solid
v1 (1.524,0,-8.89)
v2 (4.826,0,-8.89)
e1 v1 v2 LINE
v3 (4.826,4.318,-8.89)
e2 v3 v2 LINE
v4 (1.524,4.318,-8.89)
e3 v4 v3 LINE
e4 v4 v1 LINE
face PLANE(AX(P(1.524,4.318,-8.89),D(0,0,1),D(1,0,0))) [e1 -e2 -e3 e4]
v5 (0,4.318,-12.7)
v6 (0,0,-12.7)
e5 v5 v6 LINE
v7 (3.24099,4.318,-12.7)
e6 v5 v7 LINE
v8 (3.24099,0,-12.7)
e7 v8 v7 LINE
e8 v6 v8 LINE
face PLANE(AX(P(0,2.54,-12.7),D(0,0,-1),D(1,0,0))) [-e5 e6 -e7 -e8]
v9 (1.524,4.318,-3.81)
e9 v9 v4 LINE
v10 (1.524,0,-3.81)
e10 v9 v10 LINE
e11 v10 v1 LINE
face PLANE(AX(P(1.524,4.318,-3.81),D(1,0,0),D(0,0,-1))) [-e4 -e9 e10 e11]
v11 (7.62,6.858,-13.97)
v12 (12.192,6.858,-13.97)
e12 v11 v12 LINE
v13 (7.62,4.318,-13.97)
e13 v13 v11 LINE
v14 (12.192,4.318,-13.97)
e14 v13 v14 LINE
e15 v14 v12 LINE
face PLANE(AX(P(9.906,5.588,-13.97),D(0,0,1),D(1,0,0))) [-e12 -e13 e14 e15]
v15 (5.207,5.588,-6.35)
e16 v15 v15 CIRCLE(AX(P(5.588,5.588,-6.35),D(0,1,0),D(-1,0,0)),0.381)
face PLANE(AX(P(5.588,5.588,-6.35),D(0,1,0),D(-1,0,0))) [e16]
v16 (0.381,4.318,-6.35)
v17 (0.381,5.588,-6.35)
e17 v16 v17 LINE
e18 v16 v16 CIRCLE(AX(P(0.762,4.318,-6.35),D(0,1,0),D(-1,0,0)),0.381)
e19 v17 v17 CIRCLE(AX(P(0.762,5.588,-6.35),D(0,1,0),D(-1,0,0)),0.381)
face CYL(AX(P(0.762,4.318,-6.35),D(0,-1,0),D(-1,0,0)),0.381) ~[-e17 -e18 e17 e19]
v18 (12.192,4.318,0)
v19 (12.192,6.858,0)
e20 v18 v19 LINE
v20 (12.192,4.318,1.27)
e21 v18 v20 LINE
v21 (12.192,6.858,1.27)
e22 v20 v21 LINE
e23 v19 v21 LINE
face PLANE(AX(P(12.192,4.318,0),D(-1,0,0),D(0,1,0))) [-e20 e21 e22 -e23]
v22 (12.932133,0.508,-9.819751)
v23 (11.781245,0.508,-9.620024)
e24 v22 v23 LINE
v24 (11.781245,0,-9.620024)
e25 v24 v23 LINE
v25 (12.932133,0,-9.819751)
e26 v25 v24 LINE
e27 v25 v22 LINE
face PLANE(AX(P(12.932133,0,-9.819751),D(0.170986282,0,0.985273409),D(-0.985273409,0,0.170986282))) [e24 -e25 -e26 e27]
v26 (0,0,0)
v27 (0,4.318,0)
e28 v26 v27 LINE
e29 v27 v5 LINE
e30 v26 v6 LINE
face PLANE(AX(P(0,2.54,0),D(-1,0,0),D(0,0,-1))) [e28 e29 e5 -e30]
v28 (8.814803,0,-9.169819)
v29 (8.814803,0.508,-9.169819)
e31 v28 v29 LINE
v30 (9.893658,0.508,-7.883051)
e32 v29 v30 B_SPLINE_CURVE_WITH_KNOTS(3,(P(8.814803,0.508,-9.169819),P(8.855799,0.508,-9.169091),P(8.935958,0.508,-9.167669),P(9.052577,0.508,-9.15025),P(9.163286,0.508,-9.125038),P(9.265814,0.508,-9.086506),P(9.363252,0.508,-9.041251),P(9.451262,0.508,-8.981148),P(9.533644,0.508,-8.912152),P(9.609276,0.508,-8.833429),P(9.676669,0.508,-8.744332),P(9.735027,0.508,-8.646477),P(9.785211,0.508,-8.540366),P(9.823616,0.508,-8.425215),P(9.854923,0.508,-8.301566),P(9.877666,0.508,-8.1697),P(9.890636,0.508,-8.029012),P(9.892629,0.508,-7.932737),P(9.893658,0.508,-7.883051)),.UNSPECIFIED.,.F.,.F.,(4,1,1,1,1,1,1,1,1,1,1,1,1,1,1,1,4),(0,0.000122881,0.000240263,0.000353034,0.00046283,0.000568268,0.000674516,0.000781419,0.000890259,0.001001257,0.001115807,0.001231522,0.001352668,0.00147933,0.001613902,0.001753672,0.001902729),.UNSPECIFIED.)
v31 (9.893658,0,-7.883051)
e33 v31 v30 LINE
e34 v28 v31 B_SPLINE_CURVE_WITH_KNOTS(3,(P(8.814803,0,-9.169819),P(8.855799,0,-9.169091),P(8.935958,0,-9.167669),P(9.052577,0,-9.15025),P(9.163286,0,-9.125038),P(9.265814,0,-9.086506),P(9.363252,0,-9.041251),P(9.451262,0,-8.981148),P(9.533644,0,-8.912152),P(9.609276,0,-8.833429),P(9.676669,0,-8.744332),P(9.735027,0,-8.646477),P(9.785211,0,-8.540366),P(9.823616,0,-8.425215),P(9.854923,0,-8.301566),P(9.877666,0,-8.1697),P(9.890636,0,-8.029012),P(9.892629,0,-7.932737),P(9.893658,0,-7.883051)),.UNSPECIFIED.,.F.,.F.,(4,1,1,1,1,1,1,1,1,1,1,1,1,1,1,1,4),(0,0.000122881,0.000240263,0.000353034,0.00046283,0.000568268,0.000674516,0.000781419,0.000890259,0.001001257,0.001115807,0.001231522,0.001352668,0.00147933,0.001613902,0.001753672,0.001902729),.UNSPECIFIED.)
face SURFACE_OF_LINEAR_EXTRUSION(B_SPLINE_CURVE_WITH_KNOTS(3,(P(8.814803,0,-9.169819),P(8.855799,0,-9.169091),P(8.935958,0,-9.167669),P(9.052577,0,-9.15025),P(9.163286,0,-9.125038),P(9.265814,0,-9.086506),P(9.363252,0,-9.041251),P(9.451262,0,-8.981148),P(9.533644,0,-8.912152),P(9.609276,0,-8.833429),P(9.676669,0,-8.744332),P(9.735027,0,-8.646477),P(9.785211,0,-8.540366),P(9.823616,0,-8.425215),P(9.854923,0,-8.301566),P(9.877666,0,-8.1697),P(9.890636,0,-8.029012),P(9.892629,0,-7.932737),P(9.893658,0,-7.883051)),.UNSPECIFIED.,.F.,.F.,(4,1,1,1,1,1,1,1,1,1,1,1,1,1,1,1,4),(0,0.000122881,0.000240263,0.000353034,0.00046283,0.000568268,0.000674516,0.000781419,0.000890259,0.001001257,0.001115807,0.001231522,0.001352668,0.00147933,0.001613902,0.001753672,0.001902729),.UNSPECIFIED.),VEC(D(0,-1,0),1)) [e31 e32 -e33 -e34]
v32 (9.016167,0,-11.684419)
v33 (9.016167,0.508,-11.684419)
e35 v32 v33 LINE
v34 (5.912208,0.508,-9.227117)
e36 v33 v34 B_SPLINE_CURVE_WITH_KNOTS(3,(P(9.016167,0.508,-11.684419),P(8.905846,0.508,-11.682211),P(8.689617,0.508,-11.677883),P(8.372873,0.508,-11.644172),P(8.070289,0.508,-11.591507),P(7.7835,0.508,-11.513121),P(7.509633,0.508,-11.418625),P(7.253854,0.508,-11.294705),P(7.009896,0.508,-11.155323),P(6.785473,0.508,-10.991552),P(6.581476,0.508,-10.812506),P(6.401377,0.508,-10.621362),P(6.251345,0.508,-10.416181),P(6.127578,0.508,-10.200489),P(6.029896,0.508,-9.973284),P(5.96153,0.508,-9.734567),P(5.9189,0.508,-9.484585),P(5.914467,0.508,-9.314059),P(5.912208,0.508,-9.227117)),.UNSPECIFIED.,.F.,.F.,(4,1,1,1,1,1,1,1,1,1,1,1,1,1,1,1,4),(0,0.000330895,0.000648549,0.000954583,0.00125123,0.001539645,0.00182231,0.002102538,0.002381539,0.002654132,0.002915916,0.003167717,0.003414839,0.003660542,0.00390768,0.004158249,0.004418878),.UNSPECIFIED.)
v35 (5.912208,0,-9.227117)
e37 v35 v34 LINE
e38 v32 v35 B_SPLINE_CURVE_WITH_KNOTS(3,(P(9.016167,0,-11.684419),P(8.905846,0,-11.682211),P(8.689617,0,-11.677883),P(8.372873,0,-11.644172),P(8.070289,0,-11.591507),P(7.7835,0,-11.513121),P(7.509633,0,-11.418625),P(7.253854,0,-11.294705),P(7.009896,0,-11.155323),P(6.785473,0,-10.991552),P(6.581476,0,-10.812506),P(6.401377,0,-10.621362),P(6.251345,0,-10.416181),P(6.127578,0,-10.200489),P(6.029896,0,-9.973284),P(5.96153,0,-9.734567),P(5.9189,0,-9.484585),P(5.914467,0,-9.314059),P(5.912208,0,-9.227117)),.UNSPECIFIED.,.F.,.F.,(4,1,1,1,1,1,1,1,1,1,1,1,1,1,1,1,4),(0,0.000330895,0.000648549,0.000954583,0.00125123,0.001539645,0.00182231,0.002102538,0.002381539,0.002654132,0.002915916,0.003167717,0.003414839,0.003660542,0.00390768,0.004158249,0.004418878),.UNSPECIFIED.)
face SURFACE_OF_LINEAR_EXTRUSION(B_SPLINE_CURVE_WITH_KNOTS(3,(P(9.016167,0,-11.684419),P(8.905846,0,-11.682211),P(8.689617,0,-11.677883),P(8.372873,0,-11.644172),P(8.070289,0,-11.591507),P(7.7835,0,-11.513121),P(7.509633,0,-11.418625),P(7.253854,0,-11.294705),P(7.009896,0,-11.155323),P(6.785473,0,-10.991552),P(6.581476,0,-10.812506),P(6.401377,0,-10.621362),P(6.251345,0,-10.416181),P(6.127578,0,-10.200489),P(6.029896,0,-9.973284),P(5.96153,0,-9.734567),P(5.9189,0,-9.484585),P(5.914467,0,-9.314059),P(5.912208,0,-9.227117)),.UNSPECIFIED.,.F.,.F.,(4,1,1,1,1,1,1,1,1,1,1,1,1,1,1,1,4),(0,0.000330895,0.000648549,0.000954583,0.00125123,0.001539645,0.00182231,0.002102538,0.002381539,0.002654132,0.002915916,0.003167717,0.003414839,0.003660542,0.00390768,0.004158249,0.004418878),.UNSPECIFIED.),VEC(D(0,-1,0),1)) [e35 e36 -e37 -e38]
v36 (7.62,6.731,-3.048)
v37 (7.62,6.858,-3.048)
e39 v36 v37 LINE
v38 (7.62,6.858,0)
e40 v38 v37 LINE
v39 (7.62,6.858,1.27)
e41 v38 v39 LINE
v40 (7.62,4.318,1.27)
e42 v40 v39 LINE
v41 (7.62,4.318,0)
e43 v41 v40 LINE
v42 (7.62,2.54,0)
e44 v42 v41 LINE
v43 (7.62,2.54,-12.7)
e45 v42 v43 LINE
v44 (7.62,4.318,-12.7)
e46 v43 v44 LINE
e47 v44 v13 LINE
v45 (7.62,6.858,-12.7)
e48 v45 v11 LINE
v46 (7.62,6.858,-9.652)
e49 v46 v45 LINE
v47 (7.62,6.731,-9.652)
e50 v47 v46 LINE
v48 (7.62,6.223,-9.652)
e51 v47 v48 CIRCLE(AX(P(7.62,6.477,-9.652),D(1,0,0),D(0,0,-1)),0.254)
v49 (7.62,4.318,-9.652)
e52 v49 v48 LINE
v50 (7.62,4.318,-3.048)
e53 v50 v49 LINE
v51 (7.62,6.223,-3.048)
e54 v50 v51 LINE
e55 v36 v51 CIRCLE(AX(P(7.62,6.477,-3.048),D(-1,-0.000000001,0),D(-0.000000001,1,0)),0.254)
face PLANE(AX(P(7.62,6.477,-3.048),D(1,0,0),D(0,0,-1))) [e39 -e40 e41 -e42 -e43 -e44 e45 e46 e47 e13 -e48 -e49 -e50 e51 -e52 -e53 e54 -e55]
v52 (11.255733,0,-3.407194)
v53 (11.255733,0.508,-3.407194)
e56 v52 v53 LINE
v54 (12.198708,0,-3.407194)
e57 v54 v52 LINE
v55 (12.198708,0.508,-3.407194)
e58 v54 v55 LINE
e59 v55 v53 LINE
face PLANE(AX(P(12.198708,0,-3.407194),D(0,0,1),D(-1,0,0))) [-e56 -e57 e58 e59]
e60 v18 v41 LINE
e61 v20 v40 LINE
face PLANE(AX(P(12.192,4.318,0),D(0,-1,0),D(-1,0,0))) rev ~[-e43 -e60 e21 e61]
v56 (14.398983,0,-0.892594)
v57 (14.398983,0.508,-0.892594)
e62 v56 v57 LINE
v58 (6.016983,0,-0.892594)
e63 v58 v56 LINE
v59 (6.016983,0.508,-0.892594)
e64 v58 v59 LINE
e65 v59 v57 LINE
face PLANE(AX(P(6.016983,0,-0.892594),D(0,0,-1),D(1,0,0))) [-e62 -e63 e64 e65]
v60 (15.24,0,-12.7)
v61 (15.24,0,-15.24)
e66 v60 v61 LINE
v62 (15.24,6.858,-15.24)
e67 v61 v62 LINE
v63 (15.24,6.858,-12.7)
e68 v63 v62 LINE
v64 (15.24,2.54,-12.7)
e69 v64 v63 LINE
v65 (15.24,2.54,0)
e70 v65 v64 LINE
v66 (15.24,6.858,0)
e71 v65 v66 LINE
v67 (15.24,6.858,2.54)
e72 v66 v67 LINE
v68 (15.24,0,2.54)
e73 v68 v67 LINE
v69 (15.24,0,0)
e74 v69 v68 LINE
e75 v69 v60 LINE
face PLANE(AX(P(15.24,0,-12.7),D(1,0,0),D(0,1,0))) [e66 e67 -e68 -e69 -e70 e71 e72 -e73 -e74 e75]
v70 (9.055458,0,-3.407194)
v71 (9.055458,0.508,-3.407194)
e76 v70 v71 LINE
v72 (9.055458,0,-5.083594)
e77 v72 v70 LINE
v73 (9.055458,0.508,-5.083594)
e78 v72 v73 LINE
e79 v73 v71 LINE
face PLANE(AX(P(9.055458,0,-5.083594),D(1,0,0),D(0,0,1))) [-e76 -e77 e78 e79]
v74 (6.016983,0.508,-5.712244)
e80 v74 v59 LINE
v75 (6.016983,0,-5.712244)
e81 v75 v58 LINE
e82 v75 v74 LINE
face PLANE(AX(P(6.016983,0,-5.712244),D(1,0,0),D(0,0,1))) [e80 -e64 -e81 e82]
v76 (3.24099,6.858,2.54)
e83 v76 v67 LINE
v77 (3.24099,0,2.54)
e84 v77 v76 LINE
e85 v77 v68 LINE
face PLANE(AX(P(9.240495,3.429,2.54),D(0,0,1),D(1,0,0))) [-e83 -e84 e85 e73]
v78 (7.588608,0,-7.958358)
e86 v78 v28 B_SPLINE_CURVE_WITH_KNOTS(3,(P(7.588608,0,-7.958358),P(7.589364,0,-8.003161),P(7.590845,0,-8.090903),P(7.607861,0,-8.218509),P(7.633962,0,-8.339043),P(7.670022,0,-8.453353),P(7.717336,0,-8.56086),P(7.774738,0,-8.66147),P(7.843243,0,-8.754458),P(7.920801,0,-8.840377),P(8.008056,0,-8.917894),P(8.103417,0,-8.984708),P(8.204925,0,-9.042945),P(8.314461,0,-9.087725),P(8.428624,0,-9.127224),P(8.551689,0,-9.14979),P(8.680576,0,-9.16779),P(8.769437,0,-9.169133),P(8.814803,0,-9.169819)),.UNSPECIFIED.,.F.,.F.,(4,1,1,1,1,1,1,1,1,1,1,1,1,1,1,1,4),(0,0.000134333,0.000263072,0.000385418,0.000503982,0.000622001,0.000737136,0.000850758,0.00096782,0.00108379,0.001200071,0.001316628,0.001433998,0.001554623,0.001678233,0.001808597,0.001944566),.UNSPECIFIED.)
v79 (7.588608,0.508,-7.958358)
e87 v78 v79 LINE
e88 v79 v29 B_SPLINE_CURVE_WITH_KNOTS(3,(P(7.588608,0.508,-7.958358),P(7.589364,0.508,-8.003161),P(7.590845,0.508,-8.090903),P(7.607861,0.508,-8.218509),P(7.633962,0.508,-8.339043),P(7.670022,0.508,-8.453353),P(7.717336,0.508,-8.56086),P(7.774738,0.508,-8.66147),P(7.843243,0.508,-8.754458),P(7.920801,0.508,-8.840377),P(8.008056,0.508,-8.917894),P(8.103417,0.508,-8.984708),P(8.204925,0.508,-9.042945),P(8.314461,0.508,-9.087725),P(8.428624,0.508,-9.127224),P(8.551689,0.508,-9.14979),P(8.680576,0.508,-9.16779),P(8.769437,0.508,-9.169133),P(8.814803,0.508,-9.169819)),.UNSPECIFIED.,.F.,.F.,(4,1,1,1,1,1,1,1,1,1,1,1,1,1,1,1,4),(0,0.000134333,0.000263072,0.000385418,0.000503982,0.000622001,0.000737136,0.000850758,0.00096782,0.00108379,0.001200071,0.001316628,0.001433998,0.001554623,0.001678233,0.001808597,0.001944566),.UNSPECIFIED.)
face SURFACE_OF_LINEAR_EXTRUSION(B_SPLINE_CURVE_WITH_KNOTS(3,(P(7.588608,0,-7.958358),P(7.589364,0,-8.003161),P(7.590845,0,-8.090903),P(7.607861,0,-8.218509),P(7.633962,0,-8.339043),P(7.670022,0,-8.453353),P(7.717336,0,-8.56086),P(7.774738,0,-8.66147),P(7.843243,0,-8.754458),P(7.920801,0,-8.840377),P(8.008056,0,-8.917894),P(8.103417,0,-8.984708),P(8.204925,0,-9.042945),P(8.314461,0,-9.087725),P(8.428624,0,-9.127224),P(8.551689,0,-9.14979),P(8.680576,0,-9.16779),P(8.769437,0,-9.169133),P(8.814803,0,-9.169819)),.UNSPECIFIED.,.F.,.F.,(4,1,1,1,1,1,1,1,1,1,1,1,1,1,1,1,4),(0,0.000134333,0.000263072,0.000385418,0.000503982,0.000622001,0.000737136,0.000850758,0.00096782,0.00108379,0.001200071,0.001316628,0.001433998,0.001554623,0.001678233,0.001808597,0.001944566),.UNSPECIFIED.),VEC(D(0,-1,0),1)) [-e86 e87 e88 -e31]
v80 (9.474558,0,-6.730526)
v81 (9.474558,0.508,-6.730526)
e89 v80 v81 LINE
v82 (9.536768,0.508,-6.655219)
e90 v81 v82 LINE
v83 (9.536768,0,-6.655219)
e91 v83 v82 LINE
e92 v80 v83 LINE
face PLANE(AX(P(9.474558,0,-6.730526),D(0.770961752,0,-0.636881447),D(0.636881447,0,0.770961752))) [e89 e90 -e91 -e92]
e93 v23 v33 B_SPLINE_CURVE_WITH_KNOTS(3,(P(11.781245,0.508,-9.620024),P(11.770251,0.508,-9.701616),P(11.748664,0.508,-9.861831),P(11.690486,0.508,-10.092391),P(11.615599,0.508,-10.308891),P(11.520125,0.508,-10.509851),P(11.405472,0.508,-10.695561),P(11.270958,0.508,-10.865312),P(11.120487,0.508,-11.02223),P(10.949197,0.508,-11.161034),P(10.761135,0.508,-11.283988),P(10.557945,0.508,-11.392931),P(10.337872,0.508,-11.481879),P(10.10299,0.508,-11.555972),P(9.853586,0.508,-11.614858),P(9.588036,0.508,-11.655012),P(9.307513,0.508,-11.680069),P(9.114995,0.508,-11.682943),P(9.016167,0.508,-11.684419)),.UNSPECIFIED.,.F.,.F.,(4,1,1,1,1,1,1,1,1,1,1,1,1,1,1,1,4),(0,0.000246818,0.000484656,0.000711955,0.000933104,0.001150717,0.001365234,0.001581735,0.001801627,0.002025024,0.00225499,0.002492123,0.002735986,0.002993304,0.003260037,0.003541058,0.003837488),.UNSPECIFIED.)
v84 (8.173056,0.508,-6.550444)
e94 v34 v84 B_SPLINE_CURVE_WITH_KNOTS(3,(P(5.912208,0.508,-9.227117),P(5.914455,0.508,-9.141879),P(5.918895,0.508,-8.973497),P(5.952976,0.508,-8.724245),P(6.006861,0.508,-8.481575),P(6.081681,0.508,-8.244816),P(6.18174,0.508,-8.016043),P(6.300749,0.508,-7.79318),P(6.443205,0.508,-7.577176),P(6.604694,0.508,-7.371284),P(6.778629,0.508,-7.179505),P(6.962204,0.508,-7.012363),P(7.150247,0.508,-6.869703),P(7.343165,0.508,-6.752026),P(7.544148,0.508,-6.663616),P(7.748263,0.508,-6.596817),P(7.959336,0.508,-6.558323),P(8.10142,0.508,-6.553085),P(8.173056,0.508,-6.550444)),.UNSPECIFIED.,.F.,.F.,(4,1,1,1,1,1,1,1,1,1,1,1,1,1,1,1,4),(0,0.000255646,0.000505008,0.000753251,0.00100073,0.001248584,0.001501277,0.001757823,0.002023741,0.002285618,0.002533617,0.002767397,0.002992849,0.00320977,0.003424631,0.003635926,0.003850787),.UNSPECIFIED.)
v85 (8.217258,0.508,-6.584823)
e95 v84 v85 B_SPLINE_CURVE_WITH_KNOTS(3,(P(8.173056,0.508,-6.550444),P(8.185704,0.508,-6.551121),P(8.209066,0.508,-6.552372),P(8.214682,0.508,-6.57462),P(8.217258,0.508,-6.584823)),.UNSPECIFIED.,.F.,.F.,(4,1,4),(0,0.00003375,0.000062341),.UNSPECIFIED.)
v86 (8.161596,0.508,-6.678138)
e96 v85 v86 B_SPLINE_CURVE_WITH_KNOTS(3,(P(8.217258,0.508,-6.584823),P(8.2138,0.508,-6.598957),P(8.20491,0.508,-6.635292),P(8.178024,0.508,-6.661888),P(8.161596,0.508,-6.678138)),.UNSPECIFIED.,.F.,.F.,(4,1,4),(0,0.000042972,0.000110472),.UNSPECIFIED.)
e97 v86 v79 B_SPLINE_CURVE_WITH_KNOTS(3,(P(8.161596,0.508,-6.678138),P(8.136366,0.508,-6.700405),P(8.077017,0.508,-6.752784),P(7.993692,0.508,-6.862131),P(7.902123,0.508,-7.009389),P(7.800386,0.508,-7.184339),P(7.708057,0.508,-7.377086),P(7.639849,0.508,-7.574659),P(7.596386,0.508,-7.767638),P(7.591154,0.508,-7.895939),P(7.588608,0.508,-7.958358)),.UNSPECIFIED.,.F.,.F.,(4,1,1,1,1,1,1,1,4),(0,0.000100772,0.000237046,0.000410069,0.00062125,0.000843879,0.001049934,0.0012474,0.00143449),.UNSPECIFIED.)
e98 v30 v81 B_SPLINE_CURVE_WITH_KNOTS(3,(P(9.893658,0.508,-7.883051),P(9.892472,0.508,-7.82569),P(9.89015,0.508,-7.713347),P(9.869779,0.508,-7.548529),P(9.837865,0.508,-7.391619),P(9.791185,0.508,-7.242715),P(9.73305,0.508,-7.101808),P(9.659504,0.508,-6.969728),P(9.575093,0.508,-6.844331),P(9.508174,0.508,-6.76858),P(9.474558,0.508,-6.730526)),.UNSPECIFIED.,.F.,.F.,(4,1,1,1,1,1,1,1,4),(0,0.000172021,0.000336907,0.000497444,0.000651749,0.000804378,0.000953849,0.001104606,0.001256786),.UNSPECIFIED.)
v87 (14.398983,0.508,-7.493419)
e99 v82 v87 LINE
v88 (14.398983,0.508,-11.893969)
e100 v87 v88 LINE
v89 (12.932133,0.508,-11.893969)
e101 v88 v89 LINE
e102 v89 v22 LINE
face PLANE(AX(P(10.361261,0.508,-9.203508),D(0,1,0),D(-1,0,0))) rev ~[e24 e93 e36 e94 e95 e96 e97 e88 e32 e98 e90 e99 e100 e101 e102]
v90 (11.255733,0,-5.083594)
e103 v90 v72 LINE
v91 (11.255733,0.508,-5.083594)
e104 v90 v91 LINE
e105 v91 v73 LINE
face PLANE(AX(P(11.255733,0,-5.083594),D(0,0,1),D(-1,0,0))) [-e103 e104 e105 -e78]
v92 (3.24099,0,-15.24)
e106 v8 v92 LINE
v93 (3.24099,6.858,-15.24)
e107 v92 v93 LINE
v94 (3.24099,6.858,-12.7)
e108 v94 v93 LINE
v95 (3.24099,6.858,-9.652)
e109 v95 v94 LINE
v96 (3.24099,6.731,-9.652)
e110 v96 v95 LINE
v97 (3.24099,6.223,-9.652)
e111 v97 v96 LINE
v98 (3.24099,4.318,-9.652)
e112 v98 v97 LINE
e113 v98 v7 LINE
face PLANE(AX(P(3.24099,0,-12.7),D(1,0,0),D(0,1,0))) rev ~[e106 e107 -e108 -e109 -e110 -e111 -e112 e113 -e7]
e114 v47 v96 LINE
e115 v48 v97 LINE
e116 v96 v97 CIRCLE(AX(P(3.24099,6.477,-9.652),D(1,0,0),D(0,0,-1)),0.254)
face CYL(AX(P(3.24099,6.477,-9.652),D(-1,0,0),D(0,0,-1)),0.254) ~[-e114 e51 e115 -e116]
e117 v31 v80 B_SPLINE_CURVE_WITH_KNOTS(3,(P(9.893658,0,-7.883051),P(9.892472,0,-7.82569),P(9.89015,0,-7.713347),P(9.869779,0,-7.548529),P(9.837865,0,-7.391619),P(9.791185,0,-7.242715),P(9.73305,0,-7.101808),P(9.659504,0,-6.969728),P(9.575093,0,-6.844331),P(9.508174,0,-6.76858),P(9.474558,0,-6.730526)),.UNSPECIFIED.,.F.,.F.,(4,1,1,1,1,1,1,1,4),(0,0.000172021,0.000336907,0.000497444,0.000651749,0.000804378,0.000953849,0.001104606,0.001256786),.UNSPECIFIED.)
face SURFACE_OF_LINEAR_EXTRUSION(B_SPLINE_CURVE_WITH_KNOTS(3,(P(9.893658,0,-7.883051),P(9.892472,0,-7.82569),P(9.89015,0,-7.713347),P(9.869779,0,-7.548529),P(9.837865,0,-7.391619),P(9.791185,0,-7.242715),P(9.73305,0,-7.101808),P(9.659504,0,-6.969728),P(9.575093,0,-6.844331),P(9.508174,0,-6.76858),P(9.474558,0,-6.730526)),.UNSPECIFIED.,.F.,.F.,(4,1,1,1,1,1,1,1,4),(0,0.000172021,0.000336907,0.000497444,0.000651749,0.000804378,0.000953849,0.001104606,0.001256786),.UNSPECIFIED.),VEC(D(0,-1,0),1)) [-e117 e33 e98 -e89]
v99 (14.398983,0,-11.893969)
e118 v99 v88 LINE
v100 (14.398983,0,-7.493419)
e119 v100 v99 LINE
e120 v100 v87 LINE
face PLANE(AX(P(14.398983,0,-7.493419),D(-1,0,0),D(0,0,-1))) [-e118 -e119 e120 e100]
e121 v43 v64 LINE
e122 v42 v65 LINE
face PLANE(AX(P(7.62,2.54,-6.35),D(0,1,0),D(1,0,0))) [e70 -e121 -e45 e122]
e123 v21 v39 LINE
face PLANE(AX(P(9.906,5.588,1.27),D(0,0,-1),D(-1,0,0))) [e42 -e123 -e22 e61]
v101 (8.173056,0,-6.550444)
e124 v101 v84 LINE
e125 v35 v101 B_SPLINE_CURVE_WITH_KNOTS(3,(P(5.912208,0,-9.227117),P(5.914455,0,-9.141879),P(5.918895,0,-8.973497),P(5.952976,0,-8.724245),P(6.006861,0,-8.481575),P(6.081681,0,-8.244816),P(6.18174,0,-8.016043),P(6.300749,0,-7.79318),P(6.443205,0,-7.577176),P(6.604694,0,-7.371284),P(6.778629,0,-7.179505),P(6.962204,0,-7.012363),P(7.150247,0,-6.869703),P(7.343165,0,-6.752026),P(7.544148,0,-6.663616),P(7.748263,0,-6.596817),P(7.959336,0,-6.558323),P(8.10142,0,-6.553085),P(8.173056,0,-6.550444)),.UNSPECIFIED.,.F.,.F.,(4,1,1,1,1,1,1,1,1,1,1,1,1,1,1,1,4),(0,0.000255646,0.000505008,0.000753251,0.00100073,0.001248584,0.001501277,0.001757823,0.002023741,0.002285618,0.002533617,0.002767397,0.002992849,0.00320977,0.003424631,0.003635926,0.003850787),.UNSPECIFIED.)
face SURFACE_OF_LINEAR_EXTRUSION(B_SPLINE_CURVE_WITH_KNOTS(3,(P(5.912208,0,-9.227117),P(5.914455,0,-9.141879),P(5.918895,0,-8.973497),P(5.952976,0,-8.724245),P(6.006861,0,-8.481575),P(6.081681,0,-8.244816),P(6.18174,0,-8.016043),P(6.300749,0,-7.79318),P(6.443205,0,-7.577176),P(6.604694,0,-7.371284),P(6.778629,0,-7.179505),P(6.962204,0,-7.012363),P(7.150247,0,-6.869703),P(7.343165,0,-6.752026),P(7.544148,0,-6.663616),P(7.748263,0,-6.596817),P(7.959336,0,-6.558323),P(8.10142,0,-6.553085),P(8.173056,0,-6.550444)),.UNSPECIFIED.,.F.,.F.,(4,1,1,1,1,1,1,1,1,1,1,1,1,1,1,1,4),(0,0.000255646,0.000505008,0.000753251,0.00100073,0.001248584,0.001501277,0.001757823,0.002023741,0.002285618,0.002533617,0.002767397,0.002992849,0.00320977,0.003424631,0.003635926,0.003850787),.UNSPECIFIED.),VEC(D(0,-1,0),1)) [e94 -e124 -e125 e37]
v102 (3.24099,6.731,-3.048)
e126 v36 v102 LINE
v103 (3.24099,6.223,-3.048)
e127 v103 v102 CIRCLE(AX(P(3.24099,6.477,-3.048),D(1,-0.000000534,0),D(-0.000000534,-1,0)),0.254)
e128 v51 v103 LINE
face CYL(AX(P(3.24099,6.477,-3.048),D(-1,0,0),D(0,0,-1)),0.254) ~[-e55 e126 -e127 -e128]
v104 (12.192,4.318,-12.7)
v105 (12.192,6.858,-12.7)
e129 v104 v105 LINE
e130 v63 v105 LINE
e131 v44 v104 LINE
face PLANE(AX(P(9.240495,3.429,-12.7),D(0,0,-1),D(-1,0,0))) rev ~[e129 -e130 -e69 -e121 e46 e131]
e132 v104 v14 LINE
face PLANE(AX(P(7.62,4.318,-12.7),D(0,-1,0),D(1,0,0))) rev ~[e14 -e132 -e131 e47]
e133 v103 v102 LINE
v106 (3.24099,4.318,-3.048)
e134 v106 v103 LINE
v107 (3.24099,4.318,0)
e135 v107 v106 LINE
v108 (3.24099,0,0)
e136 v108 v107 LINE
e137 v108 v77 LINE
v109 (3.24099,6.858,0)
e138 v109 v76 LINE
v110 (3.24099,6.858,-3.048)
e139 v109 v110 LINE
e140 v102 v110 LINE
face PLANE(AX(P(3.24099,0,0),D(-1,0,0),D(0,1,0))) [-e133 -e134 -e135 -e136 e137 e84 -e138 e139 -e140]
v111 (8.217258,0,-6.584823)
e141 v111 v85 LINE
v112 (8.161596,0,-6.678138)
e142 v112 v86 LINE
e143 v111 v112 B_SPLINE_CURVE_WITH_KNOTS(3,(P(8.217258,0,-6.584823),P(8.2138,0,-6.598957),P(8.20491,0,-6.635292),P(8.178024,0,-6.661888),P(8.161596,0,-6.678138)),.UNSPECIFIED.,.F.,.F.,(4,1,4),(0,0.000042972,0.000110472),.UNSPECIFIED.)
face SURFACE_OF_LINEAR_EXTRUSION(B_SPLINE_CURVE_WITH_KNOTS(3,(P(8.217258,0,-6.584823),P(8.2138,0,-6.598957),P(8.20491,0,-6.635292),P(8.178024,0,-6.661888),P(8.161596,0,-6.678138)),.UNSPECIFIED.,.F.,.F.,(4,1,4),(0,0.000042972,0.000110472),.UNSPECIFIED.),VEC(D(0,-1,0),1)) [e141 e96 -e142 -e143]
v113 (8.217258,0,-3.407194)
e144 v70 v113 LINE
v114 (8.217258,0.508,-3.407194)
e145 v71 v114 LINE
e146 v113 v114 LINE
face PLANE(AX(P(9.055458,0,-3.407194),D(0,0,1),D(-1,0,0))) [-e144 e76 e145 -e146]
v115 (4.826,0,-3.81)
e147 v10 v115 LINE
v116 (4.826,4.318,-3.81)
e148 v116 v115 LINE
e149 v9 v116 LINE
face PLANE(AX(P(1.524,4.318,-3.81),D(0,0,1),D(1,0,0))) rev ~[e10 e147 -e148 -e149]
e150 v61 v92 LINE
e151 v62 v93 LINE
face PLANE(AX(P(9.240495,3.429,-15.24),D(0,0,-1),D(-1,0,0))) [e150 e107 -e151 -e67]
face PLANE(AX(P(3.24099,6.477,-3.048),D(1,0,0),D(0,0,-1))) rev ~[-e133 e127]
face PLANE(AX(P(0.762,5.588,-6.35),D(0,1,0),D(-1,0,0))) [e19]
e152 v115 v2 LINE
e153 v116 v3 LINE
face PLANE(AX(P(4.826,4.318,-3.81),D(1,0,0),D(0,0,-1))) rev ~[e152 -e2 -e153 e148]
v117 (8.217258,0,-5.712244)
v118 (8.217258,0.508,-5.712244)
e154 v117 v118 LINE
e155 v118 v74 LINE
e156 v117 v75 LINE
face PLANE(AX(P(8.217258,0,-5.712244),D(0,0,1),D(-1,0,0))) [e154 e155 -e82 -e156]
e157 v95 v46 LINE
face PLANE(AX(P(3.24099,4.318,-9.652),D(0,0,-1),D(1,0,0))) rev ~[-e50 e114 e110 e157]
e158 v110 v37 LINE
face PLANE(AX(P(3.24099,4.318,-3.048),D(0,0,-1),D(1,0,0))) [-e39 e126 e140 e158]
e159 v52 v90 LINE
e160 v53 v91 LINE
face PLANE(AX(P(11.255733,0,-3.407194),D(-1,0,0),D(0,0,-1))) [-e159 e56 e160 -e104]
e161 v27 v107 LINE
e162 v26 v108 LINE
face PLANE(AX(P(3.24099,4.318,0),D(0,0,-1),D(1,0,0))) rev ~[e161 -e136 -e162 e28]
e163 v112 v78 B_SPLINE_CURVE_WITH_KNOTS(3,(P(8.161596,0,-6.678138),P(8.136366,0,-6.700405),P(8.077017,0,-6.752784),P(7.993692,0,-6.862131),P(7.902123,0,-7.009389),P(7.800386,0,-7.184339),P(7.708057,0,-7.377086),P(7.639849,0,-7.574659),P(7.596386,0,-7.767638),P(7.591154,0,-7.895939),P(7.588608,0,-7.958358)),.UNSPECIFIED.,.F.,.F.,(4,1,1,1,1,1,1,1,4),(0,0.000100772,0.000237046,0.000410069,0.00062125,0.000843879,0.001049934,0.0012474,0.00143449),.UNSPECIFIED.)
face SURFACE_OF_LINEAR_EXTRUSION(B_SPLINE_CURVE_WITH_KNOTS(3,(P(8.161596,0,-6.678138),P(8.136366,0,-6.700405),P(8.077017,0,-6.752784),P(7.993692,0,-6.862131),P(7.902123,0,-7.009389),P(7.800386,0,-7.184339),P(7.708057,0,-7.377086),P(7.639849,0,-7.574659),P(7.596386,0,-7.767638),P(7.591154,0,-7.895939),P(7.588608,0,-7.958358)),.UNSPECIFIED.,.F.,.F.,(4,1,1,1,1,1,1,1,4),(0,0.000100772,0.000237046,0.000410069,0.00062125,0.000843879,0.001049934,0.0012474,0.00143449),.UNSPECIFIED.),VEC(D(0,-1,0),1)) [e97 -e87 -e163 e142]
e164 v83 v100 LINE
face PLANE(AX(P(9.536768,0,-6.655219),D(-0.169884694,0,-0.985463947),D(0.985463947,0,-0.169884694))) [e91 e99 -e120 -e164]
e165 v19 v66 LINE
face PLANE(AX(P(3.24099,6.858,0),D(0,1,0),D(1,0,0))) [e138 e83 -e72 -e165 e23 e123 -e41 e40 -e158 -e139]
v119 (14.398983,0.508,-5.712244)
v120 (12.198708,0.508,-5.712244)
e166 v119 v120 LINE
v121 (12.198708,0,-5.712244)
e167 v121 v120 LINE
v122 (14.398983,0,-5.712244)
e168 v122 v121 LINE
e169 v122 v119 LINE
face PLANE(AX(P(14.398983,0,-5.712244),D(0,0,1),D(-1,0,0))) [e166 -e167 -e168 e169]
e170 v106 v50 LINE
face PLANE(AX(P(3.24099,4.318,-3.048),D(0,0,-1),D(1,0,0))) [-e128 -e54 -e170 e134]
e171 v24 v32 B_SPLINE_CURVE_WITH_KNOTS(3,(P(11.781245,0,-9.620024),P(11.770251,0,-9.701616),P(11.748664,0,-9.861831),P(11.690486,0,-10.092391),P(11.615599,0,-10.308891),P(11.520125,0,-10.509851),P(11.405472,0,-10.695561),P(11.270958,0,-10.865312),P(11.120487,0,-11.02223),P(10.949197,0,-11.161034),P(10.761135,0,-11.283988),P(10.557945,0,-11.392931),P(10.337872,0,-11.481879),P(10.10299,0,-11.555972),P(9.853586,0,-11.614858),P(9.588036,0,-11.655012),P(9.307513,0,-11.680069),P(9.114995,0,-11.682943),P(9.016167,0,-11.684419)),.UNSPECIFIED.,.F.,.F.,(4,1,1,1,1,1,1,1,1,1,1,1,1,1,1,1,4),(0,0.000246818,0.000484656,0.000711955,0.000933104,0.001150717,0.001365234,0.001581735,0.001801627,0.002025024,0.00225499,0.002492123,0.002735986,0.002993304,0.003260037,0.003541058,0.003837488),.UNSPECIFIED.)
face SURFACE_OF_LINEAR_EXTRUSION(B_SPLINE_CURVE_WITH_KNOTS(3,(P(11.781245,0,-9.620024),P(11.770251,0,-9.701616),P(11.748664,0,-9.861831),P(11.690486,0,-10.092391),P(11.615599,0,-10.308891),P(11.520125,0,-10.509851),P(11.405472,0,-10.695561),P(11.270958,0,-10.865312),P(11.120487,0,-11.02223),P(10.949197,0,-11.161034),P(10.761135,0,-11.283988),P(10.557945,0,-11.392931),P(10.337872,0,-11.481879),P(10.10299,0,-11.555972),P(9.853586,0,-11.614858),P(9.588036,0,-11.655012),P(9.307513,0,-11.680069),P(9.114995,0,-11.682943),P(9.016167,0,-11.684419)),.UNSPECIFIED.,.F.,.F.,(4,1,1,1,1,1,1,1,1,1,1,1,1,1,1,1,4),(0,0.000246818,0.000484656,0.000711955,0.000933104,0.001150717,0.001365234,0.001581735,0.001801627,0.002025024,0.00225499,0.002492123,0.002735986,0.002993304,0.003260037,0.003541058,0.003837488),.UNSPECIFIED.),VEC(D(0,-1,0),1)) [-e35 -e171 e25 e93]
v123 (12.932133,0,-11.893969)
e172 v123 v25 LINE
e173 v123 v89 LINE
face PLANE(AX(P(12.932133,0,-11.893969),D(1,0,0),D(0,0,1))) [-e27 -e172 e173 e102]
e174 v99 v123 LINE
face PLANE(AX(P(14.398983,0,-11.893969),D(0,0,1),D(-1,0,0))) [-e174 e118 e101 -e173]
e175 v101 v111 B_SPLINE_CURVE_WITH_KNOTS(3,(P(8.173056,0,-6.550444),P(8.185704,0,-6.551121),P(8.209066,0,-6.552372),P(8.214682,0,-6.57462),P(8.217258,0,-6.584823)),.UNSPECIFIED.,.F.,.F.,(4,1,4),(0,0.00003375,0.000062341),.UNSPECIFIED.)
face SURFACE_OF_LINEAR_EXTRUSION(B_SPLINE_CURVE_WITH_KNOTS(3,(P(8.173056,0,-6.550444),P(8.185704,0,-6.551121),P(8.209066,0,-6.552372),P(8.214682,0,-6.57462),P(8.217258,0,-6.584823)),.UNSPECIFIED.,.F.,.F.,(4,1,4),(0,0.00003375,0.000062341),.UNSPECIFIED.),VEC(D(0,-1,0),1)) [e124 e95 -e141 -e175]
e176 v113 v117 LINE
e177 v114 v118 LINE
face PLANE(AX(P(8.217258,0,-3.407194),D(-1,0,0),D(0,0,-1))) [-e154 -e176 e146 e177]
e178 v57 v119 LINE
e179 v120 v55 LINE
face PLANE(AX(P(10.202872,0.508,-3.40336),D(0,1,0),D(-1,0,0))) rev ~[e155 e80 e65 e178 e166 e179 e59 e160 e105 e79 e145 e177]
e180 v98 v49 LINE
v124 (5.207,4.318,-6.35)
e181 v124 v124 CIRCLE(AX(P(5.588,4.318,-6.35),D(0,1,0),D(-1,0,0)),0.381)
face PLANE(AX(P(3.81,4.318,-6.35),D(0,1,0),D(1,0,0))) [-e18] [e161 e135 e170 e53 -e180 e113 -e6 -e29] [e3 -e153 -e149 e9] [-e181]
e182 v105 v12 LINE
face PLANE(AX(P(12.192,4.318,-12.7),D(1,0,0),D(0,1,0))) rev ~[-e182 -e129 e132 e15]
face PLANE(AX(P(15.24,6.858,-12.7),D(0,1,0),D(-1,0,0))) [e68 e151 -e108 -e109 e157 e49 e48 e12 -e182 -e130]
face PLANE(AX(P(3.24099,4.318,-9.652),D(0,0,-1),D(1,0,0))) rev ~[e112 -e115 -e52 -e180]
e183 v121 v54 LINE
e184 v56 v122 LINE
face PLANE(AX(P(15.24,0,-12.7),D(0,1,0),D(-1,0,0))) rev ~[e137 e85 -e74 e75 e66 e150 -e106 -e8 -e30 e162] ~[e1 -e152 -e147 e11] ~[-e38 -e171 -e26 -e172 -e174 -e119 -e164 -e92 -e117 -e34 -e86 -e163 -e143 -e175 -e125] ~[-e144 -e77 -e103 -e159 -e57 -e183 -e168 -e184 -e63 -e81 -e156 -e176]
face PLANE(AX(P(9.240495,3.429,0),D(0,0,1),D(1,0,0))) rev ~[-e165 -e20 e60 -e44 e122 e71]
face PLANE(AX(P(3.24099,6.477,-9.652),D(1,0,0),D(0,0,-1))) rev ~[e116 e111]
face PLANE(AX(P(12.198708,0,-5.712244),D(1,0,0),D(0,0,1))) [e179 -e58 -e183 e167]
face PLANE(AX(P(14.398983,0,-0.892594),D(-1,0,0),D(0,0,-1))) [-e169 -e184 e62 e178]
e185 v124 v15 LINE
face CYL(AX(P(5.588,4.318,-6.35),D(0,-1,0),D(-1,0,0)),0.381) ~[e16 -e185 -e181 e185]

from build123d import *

# Parameters (mm, degrees)
SKETCH1_W             = 15.24
SKETCH1_H             = 12.7
MAIN_BASE_DEPTH       = 2.54
ALIGNMENTPINS_START   = 1.778
SKETCH2_R             = 0.381
ALIGNMENTPINS_DEPTH   = 1.27
ALIGNMENTPINS_2_DEPTH = 1.27
SKETCH7_W             = 7.62
SKETCH7_H             = 12.7
PCBOARDEDGES_DEPTH    = 1.778
SKETCH12_W            = 4.379010271
SKETCH12_H            = 3.048
CONNECTORALIGN_DEPTH  = 2.54
SKETCH13_W            = 3.302
SKETCH13_H            = 5.08
LEDHOLE_DEPTH         = 5.318
SKETCH14_W            = 11.999010271
SKETCH14_H            = 6.858
SHOULDER_DEPTH        = 2.54
SKETCH15_W            = 11.999010271
SKETCH15_H            = 6.858
SHOULDER2_DEPTH       = 2.54
PCB_CLIP_START        = -4.37901
SKETCH17_R            = 0.254
PCB_CLIP_DEPTH        = 4.37901
SKETCH18_W            = 4.572
SKETCH18_H            = 2.54
NUNCHUCKCLIP_DEPTH    = 1.27
SKETCH19_W            = 4.572
SKETCH19_H            = 2.54
NUNCHUCKCLIP2_DEPTH   = 1.27
CUT_EXTRUDE1_DEPTH    = 0.508


with BuildPart() as part:
    # Sketch1 → Main Base (new body)
    with BuildSketch(Plane(origin=(0, 0, 0), x_dir=(1, 0, 0), z_dir=(0, 1, 0))):
        with Locations((7.62, 6.35)):
            Rectangle(SKETCH1_W, SKETCH1_H)
    extrude(amount=MAIN_BASE_DEPTH)



with BuildPart() as body_2:
    # Sketch2 → AlignmentPins (new body)
    with BuildSketch(Plane(origin=(0, 2.54, 0), x_dir=(-1, 0, 0), z_dir=(0, 1, 0)).offset(ALIGNMENTPINS_START)):
        with Locations((-0.762, -6.35)):
            Circle(SKETCH2_R)
    extrude(amount=ALIGNMENTPINS_DEPTH)


with BuildPart() as body_3:
    # Sketch2 → AlignmentPins 2 (new body)
    with BuildSketch(Plane(origin=(0, 2.54, 0), x_dir=(-1, 0, 0), z_dir=(0, 1, 0)).offset(ALIGNMENTPINS_START)):
        with Locations((-5.588, -6.35)):
            Circle(SKETCH2_R)
    extrude(amount=ALIGNMENTPINS_2_DEPTH)


with BuildPart() as part_1:
    add(part.part)

    add(body_2.part)  # PCBoardEdges merges body 2

    add(body_3.part)  # PCBoardEdges merges body 3
    # Sketch7 → PCBoardEdges (add)
    with BuildSketch(Plane(origin=(0, 2.54, 0), x_dir=(1, 0, 0), z_dir=(0, 1, 0))):
        with Locations((3.81, 6.35)):
            Rectangle(SKETCH7_W, SKETCH7_H)
    extrude(amount=PCBOARDEDGES_DEPTH)

    # Sketch12 → ConnectorAlign (add)
    with BuildSketch(Plane(origin=(0, 4.318, 0), x_dir=(1, 0, 0), z_dir=(0, 1, 0))):
        with Locations((5.430494864, 1.524)):
            Rectangle(SKETCH12_W, SKETCH12_H)
        with Locations((5.430494864, 11.176)):
            Rectangle(SKETCH12_W, SKETCH12_H)
    extrude(amount=CONNECTORALIGN_DEPTH)

    # Sketch13 → LEDHole (cut, through all)
    with BuildSketch(Plane(origin=(0, 4.318, 0), x_dir=(1, 0, 0), z_dir=(0, 1, 0))):
        with Locations((3.175, 6.35)):
            Rectangle(SKETCH13_W, SKETCH13_H)
    extrude(amount=-LEDHOLE_DEPTH, mode=Mode.SUBTRACT)

    # Sketch14 → Shoulder (add)
    with BuildSketch(Plane.XY):
        with Locations((9.240494865, 3.429)):
            Rectangle(SKETCH14_W, SKETCH14_H)
    extrude(amount=SHOULDER_DEPTH)

    # Sketch15 → Shoulder2 (add)
    with BuildSketch(Plane(origin=(0, 0, -12.7), x_dir=(-1, 0, 0), z_dir=(0, 0, -1))):
        with Locations((-9.240494865, 3.429)):
            Rectangle(SKETCH15_W, SKETCH15_H)
    extrude(amount=SHOULDER2_DEPTH)

    # Sketch17 → PCB_Clip (add)
    with BuildSketch(Plane(origin=(7.62, 0, 0), x_dir=(0, 0, -1), z_dir=(1, 0, 0)).offset(PCB_CLIP_START)):
        with Locations((3.048, 6.477)):
            Circle(SKETCH17_R)
        with Locations((9.652, 6.477)):
            Circle(SKETCH17_R)
    extrude(amount=PCB_CLIP_DEPTH)

    # Sketch18 → NunchuckClip (cut)
    with BuildSketch(Plane(origin=(0, 0, 0), x_dir=(-1, 0, 0), z_dir=(0, 0, -1))):
        with Locations((-9.906, 5.588)):
            Rectangle(SKETCH18_W, SKETCH18_H)
    extrude(amount=-NUNCHUCKCLIP_DEPTH, mode=Mode.SUBTRACT)

    # Sketch19 → NunchuckClip2 (cut)
    with BuildSketch(Plane.XY.offset(-12.7)):
        with Locations((9.906, 5.588)):
            Rectangle(SKETCH19_W, SKETCH19_H)
    extrude(amount=-NUNCHUCKCLIP2_DEPTH, mode=Mode.SUBTRACT)

    # Sketch20 → Cut-Extrude1 (cut)
    with BuildSketch(Plane.XZ):
        Polygon((8.217257779, -3.407193662), (8.217257779, -5.712243662), (6.016982779, -5.712243662), (6.016982779, -0.892593662), (14.398982779, -0.892593662), (14.398982779, -5.712243662), (12.198707779, -5.712243662), (12.198707779, -3.407193662), (11.255732779, -3.407193662), (11.255732779, -5.083593662), (9.055457779, -5.083593662), (9.055457779, -3.407193662), align=None)
        with BuildLine():
            Line((14.398982779, -7.493418662), (14.398982779, -11.893968662))
            Line((14.398982779, -11.893968662), (12.932132779, -11.893968662))
            Line((12.932132779, -11.893968662), (12.932132779, -9.819751084))
            Line((12.932132779, -9.819751084), (11.781244888, -9.62002374))
            add(Edge.make_bspline(
                [(11.781244888, -9.62002374), (11.770251243, -9.701615614), (11.748663963, -9.861830588), (11.690486481, -10.092391141), (11.615599165, -10.308891021), (11.520125231, -10.50985122), (11.405471862, -10.695560634), (11.270958242, -10.865311588), (11.120486873, -11.022229739), (10.949196623, -11.16103415), (10.761135353, -11.283987594), (10.557944594, -11.392930954), (10.337872373, -11.481879106), (10.102990479, -11.555971833), (9.853586477, -11.614857534), (9.588035638, -11.655012226), (9.307512918, -11.680069087), (9.114994844, -11.682943238), (9.016167154, -11.684418662)],
                knots=[0, 0, 0, 0, 0.000246818, 0.000484656, 0.000711955, 0.000933104, 0.001150717, 0.001365234, 0.001581735, 0.001801627, 0.002025024, 0.00225499, 0.002492123, 0.002735986, 0.002993304, 0.003260037, 0.003541058, 0.003837488, 0.003837488, 0.003837488, 0.003837488], degree=3))
            add(Edge.make_bspline(
                [(9.016167154, -11.684418662), (8.905845682, -11.682210565), (8.68961718, -11.677882727), (8.372872854, -11.644171577), (8.070289394, -11.591506566), (7.783499686, -11.513120981), (7.50963283, -11.418624818), (7.253853676, -11.294705499), (7.009895928, -11.155322531), (6.785472567, -10.99155228), (6.581476114, -10.81250602), (6.401376691, -10.621361865), (6.251345496, -10.416180814), (6.127577636, -10.200488598), (6.029896075, -9.973283881), (5.961530212, -9.734567465), (5.918899529, -9.48458455), (5.914467439, -9.314058562), (5.912207779, -9.22711749)],
                knots=[0, 0, 0, 0, 0.000330895, 0.000648549, 0.000954583, 0.00125123, 0.001539645, 0.00182231, 0.002102538, 0.002381539, 0.002654132, 0.002915916, 0.003167717, 0.003414839, 0.003660542, 0.00390768, 0.004158249, 0.004418878, 0.004418878, 0.004418878, 0.004418878], degree=3))
            add(Edge.make_bspline(
                [(5.912207779, -9.22711749), (5.91445515, -9.141879038), (5.918894654, -8.973497236), (5.952975516, -8.724244798), (6.006861153, -8.48157511), (6.081680985, -8.244815631), (6.181740166, -8.016042881), (6.300749021, -7.793180228), (6.443204901, -7.577175879), (6.60469356, -7.3712837), (6.778629295, -7.179505186), (6.962203599, -7.01236275), (7.15024709, -6.869703261), (7.343165184, -6.752025997), (7.544148349, -6.663616031), (7.748263448, -6.596817328), (7.959336029, -6.558322833), (8.101419593, -6.553084662), (8.173055826, -6.550443662)],
                knots=[0, 0, 0, 0, 0.000255646, 0.000505008, 0.000753251, 0.00100073, 0.001248584, 0.001501277, 0.001757823, 0.002023741, 0.002285618, 0.002533617, 0.002767397, 0.002992849, 0.00320977, 0.003424631, 0.003635926, 0.003850787, 0.003850787, 0.003850787, 0.003850787], degree=3))
            add(Edge.make_bspline(
                [(8.173055826, -6.550443662), (8.185703613, -6.55112084), (8.209065854, -6.552371684), (8.21468206, -6.574619572), (8.217257779, -6.584822959)],
                knots=[0, 0, 0, 0, 3.375e-05, 6.2341e-05, 6.2341e-05, 6.2341e-05, 6.2341e-05], degree=3))
            add(Edge.make_bspline(
                [(8.217257779, -6.584822959), (8.21379986, -6.598956726), (8.204910316, -6.635291506), (8.178023964, -6.661887625), (8.16159606, -6.678138193)],
                knots=[0, 0, 0, 0, 4.2972e-05, 0.000110472, 0.000110472, 0.000110472, 0.000110472], degree=3))
            add(Edge.make_bspline(
                [(8.16159606, -6.678138193), (8.136365772, -6.700405265), (8.077016572, -6.752784095), (7.993692338, -6.862131275), (7.902122779, -7.009388757), (7.800385555, -7.184339204), (7.708056874, -7.377085557), (7.639849213, -7.574659381), (7.596386201, -7.767637982), (7.591153517, -7.895938561), (7.588607779, -7.958357724)],
                knots=[0, 0, 0, 0, 0.000100772, 0.000237046, 0.000410069, 0.00062125, 0.000843879, 0.001049934, 0.0012474, 0.00143449, 0.00143449, 0.00143449, 0.00143449], degree=3))
            add(Edge.make_bspline(
                [(7.588607779, -7.958357724), (7.589364169, -8.003161205), (7.590845457, -8.090902724), (7.607861397, -8.218508769), (7.633961608, -8.339043342), (7.670022293, -8.453352628), (7.717335918, -8.560860294), (7.774738157, -8.661469601), (7.843243248, -8.754458019), (7.920801372, -8.840377114), (8.008056037, -8.917894183), (8.103416935, -8.984707761), (8.204925166, -9.042944891), (8.314460725, -9.087724989), (8.428623769, -9.127224479), (8.551689353, -9.149790175), (8.680576304, -9.167789672), (8.76943719, -9.169132909), (8.814802701, -9.169818662)],
                knots=[0, 0, 0, 0, 0.000134333, 0.000263072, 0.000385418, 0.000503982, 0.000622001, 0.000737136, 0.000850758, 0.00096782, 0.00108379, 0.001200071, 0.001316628, 0.001433998, 0.001554623, 0.001678233, 0.001808597, 0.001944566, 0.001944566, 0.001944566, 0.001944566], degree=3))
            add(Edge.make_bspline(
                [(8.814802701, -9.169818662), (8.855799497, -9.169091152), (8.935958333, -9.16766869), (9.052576868, -9.150249952), (9.16328584, -9.125037681), (9.265814181, -9.086505827), (9.363252497, -9.041250504), (9.451262049, -8.981147756), (9.533643551, -8.912152178), (9.609276284, -8.833428845), (9.67666913, -8.744332428), (9.73502713, -8.646476727), (9.785210532, -8.540365748), (9.823615634, -8.425214765), (9.85492271, -8.301566212), (9.87766612, -8.169699968), (9.890636219, -8.029012368), (9.892629227, -7.932736654), (9.893657779, -7.883050693)],
                knots=[0, 0, 0, 0, 0.000122881, 0.000240263, 0.000353034, 0.00046283, 0.000568268, 0.000674516, 0.000781419, 0.000890259, 0.001001257, 0.001115807, 0.001231522, 0.001352668, 0.00147933, 0.001613902, 0.001753672, 0.001902729, 0.001902729, 0.001902729, 0.001902729], degree=3))
            add(Edge.make_bspline(
                [(9.893657779, -7.883050693), (9.892472166, -7.825689716), (9.890150122, -7.713347192), (9.869778513, -7.548529099), (9.837864771, -7.391618982), (9.791184949, -7.242714697), (9.733050352, -7.101808236), (9.65950445, -6.969728078), (9.575093218, -6.844330987), (9.508174474, -6.768579517), (9.474557779, -6.730525693)],
                knots=[0, 0, 0, 0, 0.000172021, 0.000336907, 0.000497444, 0.000651749, 0.000804378, 0.000953849, 0.001104606, 0.001256786, 0.001256786, 0.001256786, 0.001256786], degree=3))
            Line((9.474557779, -6.730525693), (9.536767935, -6.655218662))
            Line((9.536767935, -6.655218662), (14.398982779, -7.493418662))
        make_face()
    extrude(amount=-CUT_EXTRUDE1_DEPTH, mode=Mode.SUBTRACT)


solid = part_1.part
